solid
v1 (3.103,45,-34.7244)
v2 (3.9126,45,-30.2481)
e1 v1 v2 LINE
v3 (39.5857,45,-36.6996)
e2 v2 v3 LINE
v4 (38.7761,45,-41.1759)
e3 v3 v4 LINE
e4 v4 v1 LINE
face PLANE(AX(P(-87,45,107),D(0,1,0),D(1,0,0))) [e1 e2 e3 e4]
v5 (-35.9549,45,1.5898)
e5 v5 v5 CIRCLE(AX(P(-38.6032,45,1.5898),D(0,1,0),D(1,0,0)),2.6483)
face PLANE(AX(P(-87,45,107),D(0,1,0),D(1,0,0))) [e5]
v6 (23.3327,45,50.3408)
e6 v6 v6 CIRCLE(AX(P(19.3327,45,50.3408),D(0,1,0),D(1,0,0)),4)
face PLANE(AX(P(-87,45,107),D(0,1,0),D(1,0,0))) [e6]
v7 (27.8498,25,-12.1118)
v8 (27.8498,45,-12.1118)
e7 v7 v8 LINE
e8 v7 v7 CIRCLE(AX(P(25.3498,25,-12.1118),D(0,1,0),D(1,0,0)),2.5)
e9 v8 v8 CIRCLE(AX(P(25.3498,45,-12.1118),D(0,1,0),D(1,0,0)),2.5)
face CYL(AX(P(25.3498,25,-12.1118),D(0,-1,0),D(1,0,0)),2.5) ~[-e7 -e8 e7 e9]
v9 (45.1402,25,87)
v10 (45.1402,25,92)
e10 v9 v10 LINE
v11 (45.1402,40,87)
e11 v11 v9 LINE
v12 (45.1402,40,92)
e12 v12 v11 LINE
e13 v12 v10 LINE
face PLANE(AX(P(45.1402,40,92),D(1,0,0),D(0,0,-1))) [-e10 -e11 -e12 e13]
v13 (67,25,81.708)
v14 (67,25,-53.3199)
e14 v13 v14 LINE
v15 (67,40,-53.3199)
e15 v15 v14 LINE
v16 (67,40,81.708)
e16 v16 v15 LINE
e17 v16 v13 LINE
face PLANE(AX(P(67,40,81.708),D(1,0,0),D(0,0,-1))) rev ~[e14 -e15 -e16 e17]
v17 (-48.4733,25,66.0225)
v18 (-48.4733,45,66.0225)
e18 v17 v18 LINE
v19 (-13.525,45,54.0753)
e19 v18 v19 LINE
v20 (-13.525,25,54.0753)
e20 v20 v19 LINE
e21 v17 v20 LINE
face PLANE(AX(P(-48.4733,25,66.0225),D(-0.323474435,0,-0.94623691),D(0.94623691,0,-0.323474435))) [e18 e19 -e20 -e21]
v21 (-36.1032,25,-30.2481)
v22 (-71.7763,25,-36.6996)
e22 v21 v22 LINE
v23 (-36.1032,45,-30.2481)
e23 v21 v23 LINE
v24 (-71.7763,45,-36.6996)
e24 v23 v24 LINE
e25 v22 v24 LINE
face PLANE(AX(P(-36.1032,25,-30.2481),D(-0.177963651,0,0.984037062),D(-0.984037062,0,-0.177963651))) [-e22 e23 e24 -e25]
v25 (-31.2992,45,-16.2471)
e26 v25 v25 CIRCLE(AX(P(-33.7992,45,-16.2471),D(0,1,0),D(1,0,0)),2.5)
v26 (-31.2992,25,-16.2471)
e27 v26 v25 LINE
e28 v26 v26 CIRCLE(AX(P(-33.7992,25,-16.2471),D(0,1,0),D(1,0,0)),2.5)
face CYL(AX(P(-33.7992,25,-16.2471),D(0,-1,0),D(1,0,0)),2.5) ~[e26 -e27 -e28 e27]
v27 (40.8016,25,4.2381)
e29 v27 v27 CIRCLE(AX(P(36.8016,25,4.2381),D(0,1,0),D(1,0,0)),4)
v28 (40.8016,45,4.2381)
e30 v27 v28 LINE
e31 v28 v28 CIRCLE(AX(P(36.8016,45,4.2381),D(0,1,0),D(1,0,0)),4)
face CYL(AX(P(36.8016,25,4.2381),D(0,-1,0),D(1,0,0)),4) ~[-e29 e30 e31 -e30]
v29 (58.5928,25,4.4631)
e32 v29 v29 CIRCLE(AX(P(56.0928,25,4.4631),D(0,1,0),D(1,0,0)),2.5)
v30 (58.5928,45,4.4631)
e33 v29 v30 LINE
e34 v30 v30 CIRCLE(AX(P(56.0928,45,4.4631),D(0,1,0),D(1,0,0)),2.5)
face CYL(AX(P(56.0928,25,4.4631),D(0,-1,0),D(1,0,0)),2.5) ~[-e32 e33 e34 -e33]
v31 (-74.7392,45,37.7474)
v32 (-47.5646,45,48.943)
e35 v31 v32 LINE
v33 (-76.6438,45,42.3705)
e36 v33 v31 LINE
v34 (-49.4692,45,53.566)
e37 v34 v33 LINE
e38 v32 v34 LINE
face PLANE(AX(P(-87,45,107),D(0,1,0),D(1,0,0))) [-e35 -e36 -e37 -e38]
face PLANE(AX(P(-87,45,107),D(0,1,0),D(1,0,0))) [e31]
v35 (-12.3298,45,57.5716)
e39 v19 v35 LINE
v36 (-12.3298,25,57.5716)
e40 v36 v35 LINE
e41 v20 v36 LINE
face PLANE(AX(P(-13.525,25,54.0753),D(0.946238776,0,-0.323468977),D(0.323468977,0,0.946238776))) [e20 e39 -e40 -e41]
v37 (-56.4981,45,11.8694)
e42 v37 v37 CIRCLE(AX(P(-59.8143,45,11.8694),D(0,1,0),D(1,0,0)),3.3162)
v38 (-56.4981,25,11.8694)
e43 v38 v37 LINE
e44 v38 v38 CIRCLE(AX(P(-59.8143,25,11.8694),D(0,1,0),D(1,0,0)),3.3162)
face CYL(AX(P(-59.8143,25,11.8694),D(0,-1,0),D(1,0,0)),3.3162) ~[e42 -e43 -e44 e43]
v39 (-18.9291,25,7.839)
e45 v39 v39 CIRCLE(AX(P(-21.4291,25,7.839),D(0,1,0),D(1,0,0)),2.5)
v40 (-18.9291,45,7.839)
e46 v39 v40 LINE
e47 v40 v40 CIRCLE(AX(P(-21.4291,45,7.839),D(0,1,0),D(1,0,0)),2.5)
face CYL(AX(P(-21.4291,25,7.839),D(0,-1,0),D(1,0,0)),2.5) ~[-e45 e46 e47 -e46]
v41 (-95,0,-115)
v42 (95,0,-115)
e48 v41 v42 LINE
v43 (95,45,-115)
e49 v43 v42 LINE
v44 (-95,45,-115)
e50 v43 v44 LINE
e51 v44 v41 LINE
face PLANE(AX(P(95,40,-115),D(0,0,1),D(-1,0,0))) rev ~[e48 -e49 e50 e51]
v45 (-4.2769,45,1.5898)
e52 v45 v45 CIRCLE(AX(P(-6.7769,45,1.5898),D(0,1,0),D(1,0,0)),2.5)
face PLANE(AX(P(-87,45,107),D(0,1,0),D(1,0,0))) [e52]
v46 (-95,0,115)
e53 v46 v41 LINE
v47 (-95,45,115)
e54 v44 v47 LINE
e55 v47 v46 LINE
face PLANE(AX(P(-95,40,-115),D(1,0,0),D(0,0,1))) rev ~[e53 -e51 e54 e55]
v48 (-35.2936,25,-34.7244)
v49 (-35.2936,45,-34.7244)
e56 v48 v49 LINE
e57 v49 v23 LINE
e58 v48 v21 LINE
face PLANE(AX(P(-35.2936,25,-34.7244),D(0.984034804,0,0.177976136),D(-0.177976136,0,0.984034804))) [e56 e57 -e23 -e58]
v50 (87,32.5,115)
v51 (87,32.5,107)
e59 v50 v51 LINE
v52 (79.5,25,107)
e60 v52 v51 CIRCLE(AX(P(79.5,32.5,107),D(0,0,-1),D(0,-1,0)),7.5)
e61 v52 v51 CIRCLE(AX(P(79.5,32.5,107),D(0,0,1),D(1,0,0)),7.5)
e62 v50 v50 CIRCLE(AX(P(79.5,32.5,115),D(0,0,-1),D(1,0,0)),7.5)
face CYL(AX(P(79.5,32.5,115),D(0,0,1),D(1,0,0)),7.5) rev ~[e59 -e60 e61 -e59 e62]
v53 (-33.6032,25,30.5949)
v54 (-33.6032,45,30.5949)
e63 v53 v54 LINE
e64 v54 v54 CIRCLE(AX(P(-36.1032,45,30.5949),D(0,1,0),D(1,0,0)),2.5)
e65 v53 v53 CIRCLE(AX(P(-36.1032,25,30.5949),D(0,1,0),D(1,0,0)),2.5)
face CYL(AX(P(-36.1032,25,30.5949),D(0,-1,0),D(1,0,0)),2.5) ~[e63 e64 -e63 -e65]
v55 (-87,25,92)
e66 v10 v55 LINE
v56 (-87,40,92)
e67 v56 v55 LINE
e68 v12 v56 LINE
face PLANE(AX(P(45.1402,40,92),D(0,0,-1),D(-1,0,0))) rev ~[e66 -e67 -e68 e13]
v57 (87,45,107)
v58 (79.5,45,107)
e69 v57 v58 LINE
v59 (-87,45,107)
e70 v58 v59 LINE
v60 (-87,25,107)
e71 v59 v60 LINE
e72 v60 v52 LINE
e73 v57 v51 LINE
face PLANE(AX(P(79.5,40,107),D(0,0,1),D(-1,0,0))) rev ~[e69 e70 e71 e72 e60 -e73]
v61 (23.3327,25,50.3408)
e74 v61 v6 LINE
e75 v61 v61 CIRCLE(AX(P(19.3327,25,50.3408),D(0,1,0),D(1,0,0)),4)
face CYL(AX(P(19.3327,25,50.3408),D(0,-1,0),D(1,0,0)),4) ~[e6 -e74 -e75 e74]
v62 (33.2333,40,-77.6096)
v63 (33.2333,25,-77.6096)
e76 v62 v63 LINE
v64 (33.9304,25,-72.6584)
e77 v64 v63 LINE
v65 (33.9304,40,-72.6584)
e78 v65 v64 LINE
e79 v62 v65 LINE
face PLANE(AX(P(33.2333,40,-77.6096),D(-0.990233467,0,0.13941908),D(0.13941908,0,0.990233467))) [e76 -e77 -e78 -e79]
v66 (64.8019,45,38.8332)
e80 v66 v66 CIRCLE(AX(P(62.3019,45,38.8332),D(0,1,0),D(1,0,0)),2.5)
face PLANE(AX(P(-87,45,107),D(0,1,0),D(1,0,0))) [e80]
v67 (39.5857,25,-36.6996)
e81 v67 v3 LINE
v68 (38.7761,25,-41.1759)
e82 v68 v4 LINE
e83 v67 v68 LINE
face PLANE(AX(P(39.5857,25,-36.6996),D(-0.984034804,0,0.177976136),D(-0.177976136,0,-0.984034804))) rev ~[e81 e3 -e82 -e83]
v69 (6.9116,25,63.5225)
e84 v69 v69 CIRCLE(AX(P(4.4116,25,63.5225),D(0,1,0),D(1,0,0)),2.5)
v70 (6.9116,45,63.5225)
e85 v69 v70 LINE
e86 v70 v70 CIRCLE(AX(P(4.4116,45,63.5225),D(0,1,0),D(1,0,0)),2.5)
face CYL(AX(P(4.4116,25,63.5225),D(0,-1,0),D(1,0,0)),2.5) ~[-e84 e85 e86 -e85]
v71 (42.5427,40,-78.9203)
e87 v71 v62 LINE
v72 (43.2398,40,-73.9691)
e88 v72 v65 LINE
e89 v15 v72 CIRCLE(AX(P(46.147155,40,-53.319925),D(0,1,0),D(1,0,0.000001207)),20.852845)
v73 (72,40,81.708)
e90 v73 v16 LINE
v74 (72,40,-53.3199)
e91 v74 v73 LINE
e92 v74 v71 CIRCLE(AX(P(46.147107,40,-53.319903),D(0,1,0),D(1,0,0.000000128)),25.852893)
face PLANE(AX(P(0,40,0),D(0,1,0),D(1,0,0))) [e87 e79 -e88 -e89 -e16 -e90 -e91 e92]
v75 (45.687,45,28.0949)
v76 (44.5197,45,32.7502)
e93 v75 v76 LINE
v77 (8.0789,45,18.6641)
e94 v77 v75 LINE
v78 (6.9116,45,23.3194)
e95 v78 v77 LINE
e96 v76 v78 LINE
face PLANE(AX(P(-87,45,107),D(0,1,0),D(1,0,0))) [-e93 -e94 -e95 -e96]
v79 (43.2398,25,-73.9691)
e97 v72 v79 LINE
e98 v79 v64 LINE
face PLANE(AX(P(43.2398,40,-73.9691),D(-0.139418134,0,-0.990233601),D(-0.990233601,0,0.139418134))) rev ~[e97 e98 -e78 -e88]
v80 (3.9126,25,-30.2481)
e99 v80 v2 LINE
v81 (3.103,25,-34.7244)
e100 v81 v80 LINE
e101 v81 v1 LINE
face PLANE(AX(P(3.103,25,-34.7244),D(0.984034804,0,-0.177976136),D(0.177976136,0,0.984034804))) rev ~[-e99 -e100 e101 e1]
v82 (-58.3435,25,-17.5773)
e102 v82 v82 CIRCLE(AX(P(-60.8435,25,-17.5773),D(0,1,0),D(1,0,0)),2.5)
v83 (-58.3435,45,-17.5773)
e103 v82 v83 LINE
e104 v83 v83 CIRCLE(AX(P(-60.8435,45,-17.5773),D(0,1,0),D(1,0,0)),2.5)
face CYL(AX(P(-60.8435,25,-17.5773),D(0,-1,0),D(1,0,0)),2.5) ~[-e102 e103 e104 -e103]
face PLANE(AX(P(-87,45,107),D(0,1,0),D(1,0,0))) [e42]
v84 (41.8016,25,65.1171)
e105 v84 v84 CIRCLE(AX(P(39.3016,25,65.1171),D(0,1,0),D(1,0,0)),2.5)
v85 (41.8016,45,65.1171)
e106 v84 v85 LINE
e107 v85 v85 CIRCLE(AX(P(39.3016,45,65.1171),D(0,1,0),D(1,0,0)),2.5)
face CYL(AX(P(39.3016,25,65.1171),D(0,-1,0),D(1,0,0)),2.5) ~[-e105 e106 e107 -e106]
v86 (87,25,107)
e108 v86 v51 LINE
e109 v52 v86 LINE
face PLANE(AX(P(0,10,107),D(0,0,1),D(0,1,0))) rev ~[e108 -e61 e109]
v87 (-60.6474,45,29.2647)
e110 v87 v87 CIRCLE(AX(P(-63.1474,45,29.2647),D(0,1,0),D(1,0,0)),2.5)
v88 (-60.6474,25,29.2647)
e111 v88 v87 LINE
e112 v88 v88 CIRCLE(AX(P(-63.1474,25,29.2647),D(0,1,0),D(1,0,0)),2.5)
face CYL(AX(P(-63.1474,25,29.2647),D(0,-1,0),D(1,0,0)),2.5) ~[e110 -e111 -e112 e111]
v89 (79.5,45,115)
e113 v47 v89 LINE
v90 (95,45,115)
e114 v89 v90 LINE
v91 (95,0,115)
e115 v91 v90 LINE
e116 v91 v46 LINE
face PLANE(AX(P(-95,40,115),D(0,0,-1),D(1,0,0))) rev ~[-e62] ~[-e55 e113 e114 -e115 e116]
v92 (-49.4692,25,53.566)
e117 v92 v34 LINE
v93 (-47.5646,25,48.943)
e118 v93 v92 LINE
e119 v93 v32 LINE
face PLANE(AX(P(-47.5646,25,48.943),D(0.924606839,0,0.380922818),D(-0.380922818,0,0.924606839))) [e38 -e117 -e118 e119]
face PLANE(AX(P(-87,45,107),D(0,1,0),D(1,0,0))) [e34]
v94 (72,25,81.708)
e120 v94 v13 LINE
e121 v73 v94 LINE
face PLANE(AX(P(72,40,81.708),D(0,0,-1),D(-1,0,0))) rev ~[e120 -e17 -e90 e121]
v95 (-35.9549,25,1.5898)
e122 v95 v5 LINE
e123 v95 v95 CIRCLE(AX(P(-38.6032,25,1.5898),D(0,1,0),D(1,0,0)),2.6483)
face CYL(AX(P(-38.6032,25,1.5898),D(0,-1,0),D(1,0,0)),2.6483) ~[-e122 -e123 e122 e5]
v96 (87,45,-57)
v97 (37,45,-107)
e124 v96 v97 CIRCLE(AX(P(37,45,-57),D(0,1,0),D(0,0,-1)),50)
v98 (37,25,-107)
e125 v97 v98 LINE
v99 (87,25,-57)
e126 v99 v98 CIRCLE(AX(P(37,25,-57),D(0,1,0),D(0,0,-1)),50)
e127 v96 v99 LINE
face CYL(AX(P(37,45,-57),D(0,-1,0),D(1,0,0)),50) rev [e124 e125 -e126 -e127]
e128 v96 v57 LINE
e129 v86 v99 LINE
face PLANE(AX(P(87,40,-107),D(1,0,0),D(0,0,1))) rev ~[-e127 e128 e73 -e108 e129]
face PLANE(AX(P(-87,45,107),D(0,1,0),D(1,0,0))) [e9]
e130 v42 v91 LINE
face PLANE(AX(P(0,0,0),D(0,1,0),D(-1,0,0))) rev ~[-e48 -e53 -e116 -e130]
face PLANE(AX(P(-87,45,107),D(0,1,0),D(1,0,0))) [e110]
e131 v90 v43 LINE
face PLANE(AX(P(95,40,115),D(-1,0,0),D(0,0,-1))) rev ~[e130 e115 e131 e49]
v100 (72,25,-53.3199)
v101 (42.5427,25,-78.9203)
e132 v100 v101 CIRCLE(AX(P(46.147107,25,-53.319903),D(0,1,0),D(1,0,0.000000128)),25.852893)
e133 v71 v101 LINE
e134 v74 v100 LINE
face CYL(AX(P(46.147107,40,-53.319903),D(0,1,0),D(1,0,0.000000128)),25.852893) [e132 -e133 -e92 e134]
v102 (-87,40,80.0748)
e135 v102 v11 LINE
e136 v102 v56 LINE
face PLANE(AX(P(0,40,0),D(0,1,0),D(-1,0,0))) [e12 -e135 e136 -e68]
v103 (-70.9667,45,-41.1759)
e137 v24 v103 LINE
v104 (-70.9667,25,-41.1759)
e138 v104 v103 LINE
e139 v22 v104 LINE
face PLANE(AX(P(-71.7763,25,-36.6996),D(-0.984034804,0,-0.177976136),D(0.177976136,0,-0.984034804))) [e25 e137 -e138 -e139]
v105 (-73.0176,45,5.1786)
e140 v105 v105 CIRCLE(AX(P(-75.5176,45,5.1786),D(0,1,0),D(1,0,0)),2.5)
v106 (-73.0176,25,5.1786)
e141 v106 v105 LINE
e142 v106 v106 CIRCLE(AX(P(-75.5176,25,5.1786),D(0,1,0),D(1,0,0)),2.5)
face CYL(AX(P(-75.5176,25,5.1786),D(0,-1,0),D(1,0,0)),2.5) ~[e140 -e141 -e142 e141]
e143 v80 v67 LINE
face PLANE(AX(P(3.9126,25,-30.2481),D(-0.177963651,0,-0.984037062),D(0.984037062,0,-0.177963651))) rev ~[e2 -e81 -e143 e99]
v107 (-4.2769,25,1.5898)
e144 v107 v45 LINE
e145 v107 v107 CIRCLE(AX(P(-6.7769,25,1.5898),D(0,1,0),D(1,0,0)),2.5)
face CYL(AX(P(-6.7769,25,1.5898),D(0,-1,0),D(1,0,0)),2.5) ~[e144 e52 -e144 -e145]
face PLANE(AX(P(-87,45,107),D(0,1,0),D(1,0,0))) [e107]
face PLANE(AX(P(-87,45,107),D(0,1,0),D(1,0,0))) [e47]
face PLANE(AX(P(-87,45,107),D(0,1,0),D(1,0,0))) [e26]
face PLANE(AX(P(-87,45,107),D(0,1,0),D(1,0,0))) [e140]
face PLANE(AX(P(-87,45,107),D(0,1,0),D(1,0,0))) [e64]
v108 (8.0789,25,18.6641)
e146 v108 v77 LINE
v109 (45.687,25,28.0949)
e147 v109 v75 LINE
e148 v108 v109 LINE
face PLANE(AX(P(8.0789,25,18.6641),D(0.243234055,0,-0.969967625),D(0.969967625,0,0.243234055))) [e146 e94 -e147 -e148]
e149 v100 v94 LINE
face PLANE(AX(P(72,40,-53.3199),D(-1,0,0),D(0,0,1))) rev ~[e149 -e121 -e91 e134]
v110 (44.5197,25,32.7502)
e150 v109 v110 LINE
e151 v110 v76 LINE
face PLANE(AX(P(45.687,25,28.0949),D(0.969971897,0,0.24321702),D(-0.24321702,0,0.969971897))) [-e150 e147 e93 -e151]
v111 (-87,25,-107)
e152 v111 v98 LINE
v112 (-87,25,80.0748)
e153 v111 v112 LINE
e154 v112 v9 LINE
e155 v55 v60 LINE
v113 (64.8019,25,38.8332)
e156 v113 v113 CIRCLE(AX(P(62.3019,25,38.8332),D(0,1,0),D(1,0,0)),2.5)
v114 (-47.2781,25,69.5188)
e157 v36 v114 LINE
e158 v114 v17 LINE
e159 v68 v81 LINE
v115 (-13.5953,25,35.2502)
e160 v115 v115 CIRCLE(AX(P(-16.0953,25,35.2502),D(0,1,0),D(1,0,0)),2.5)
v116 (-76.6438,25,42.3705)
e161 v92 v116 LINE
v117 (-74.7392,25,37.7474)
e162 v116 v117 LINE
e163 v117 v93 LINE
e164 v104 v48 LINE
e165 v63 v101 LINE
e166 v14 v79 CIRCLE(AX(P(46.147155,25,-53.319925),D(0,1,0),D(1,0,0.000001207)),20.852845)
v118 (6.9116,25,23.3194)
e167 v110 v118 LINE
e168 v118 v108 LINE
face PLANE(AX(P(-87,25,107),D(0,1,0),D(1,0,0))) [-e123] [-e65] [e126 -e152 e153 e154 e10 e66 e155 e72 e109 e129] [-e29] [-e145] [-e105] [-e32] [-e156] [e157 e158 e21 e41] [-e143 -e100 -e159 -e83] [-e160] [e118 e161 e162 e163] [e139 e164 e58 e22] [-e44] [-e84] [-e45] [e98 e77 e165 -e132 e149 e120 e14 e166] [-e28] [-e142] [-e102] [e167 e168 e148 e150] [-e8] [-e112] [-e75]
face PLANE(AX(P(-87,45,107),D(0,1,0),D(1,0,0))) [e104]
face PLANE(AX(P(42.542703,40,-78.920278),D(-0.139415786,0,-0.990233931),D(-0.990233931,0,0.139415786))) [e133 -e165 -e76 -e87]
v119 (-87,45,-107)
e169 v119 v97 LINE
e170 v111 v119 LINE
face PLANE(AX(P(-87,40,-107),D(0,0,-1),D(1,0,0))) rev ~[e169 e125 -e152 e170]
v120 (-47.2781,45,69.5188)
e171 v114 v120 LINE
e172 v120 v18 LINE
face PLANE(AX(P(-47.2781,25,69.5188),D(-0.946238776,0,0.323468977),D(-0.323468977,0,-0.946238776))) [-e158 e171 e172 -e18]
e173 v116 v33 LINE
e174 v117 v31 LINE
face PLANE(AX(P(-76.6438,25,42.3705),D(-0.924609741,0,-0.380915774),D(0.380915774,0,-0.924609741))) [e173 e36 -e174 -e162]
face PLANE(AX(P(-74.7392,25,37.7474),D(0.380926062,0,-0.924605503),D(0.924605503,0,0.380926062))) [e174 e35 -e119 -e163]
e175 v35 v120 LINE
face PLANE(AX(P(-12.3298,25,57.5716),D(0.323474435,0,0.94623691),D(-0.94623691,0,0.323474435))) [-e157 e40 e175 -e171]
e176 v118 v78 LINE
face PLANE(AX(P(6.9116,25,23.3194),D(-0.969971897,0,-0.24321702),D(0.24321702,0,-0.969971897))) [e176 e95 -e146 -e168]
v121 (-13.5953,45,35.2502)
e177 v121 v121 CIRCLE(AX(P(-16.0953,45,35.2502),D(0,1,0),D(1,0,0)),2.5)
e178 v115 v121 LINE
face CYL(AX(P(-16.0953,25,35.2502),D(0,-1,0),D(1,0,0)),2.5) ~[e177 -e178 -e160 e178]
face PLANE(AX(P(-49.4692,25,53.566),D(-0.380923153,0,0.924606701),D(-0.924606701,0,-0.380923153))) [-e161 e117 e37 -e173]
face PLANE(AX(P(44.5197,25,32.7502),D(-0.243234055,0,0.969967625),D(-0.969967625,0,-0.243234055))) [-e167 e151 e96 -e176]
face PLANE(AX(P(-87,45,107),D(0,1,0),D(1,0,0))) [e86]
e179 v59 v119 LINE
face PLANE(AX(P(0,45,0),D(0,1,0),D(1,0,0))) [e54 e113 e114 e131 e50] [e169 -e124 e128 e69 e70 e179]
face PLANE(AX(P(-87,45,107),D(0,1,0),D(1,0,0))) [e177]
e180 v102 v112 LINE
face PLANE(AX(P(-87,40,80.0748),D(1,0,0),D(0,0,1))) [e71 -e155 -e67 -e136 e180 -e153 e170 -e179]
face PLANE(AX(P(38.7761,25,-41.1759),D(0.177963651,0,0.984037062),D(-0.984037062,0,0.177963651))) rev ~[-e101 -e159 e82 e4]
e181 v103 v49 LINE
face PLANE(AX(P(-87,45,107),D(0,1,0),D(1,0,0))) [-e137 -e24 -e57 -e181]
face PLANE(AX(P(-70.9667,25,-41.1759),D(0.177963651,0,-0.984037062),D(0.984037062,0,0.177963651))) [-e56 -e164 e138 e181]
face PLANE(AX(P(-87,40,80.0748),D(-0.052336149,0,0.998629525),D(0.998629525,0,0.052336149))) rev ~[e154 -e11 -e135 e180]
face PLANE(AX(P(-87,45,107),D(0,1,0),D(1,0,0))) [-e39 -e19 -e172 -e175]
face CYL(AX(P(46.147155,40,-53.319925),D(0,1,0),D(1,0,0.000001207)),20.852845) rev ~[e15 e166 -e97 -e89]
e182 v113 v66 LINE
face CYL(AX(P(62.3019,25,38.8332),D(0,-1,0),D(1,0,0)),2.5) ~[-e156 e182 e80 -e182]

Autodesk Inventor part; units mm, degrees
ref_plane "YZ Plane" through (0, 0, 0) normal (1, 0, 0) x (0, 1, 0)
ref_plane "XZ Plane" through (0, 0, 0) normal (0, 1, 0) x (-1, 0, 0)
ref_plane "XY Plane" through (0, 0, 0) normal (0, 0, 1) x (1, 0, 0)
sketch "草圖1" plane through (0, 0, 0) normal (0, 1, 0) x (-1, 0, 0)
  line L0 (133, 0) -> (-133, 0) construction
  line L1 (0, -161) -> (0, 161) construction
  line L2 (95, -115) -> (-95, -115)
  line L3 (-95, -115) -> (-95, 115)
  line L4 (-95, 115) -> (95, 115)
  line L5 (95, 115) -> (95, -115)
  point P0 (0, 0)
  dimension "d0" = 190
  dimension "d1" = 230
extrude "擠出1" add sketch "草圖1" along normal blind 40
sketch "草圖3" plane through (0, 0, 0) normal (1, 0, 0) x (0, 1, 0)
  line L0 (0, 115) -> (0, -115) construction
  line L1 (0, 115) -> (40, 115) construction
  line L2 (40, -115) -> (40, 115) construction
  line L3 (0, -115) -> (40, -115) construction
  line L4 (-8, 0) -> (48, 0) construction
  line L5 (0, -161) -> (0, 161) construction
  line L6 (10, 107) -> (40, 107)
  line L7 (40, 107) -> (40, -107)
  line L8 (40, -107) -> (10, -107)
  line L9 (10, 107) -> (10, -107.0049)
  point P0 (0, 0)
  dimension "d13" = 8
  dimension "d14" = 8
  dimension "d27" = 10
sketch "草圖2" plane through (0, 40, 0) normal (0, 1, 0) x (1, 0, 0)
  line L0 (95, 115) -> (-95, 115) construction
  line L1 (-95, 115) -> (-95, -115) construction
  line L2 (-95, -115) -> (95, -115) construction
  line L3 (95, -115) -> (95, 115) construction
  line L4 (-133, 0) -> (133, 0) construction
  line L5 (0, 161) -> (0, -161) construction
  line L6 (-87, 107) -> (87, 107)
  line L7 (87, 107) -> (87, -107)
  line L8 (87, -107) -> (-87, -107)
  line L9 (-87, -107) -> (-87, 107)
  line L10 (-87, -80.0748) -> (45.1402, -87)
  line L11 (45.1402, -92) -> (-87, -92)
  line L12 (45.1402, -92) -> (45.1402, -87)
  line L13 (72, 53.3199) -> (72, -81.708)
  line L14 (72, -81.708) -> (67, -81.708)
  line L15 (67, -81.708) -> (67, 53.3199)
  arc A0 (67, 53.3199) -> (43.2398, 73.9691) centre (46.1471, 53.3199) ccw
  arc A1 (72, 53.3199) -> (42.5427, 78.9203) centre (46.1471, 53.3199) ccw
  line L16 (43.2398, 73.9691) -> (33.9304, 72.6584)
  line L17 (45.4216, 79.3256) -> (33.2333, 77.6096)
  line L18 (33.2333, 77.6096) -> (33.9304, 72.6584)
  point P0 (0, 0)
  dimension "d4" = 8
  dimension "d5" = 15
  dimension "d6" = 5
  dimension "d7" = 3
  dimension "d8" = 15
  dimension "d9" = 5
  dimension "d10" = 5
extrude "擠出7" cut sketch "草圖3" along normal mid plane 174
extrude "擠出8" add sketch "草圖2" against normal up to next contours L10 L12 L11 L9 | L13 L14 L15 A0 L16 L18 L17 A1
sketch "草圖6" plane through (-87, 10, 107) normal (0, 1, 0) x (1, 0, 0)
  line L0 (132.1402, 15) -> (0, 15) projected
  line L1 (0, 15) -> (0, 0) projected
  line L2 (0, 0) -> (174, 0) projected
  line L3 (174, 0) -> (174, 214) projected
  line L4 (0, 214) -> (174, 214) projected
  line L5 (0, 214) -> (0, 26.9252) projected
  line L6 (0, 26.9252) -> (132.1402, 20) projected
  line L7 (132.1402, 20) -> (132.1402, 15) projected
  arc A0 (159, 160.3199) -> (129.5427, 185.9203) centre (133.1471, 160.3199) ccw projected
  line L8 (159, 160.3199) -> (159, 25.292) projected
  line L9 (159, 25.292) -> (154, 25.292) projected
  line L10 (154, 25.292) -> (154, 160.3199) projected
  arc A1 (154, 160.3199) -> (130.2398, 180.9691) centre (133.1471, 160.3199) ccw projected
  line L11 (130.2398, 180.9691) -> (120.9304, 179.6584) projected
  line L12 (120.9304, 179.6584) -> (120.2333, 184.6096) projected
  line L13 (120.2333, 184.6096) -> (129.5427, 185.9203) projected
  point P0 (87, 107)
extrude "擠出9" add sketch "草圖6" along normal blind 15
sketch "草圖9" plane through (-95, 0, 115) normal (0, 0, 1) x (1, 0, 0)
  line L0 (182, 25) -> (8, 25) construction
  line L1 (182, 40) -> (182, 25) construction
  line L2 (167, 40) -> (167, 25) construction
  circle A0 centre (174.5, 32.5) radius 7.5
  point P0 (95, 0)
  dimension "d64" = 15
extrude "擠出11" cut sketch "草圖9" against normal blind 20
sketch "草圖10" plane through (0, 40, 0) normal (0, 1, 0) x (1, 0, 0)
  line L0 (-87, -92) -> (45.1402, -92) construction
  line L1 (45.1402, -92) -> (45.1402, -87) construction
  line L2 (45.1402, -87) -> (-87, -80.0748) construction
  line L3 (-87, -80.0748) -> (-87, 107) projected
  line L4 (-87, 107) -> (87, 107) projected
  line L5 (87, 107) -> (87, -107) projected
  line L6 (87, -107) -> (79.5, -107) projected
  line L7 (79.5, -115) -> (79.5, -107) projected
  line L8 (79.5, -115) -> (95, -115) projected
  line L9 (95, -115) -> (95, 115) projected
  line L10 (95, 115) -> (-95, 115) projected
  line L11 (-95, 115) -> (-95, -115) projected
  line L12 (-95, -115) -> (79.5, -115) projected
  line L13 (79.5, -107) -> (-87, -107) projected
  line L14 (-87, -107) -> (-87, -92) projected
  line L15 (-87, -80.0748) -> (-87, -92)
  point P0 (0, 0)
extrude "擠出12" add sketch "草圖10" along normal blind 5
fillet "圓角1" radius 50 1 edges at (87, 35, -107)
sketch "草圖11" plane through (-87, 25, 107) normal (0, 1, 0) x (1, 0, 0)
  line L0 (16.0333, 148.1759) -> (51.7064, 141.7244)
  line L1 (51.7064, 141.7244) -> (50.8968, 137.2481)
  line L2 (50.8968, 137.2481) -> (15.2237, 143.6996)
  line L3 (15.2237, 143.6996) -> (16.0333, 148.1759)
  line L4 (182, 222) -> (-8, 222) projected
  line L5 (70.9047, 222) -> (70.9047, 192.887) construction
  line L6 (125.7761, 148.1759) -> (90.103, 141.7244)
  line L7 (90.103, 141.7244) -> (90.9126, 137.2481)
  line L8 (90.9126, 137.2481) -> (126.5857, 143.6996)
  line L9 (126.5857, 143.6996) -> (125.7761, 148.1759)
  circle A0 centre (26.1565, 124.5773) radius 2.5
  circle A1 centre (11.4824, 101.8214) radius 2.5
  circle A2 centre (23.8526, 77.7353) radius 2.5
  circle A3 centre (50.8968, 76.4051) radius 2.5
  circle A4 centre (65.5709, 99.161) radius 2.5
  circle A5 centre (53.2008, 123.2471) radius 2.5
  circle A6 centre (126.3016, 41.8829) radius 2.5
  circle A7 centre (149.3019, 68.1668) radius 2.5
  circle A8 centre (143.0928, 102.5369) radius 2.5
  circle A9 centre (112.3498, 119.1118) radius 2.5
  circle A10 centre (80.2231, 105.4102) radius 2.5
  circle A11 centre (70.9047, 71.7498) radius 2.5
  circle A12 centre (91.4116, 43.4775) radius 2.5
  line L10 (95.0789, 88.3359) -> (132.687, 78.9051)
  line L11 (132.687, 78.9051) -> (131.5197, 74.2498)
  line L12 (131.5197, 74.2498) -> (93.9116, 83.6806)
  line L13 (93.9116, 83.6806) -> (95.0789, 88.3359)
  line L14 (38.5267, 40.9775) -> (73.475, 52.9247)
  line L15 (73.475, 52.9247) -> (74.6702, 49.4284)
  line L16 (74.6702, 49.4284) -> (39.7219, 37.4812)
  line L17 (39.7219, 37.4812) -> (38.5267, 40.9775)
  line L18 (12.2608, 69.2526) -> (39.4354, 58.057)
  line L19 (39.4354, 58.057) -> (37.5308, 53.434)
  line L20 (37.5308, 53.434) -> (10.3562, 64.6295)
  line L21 (10.3562, 64.6295) -> (12.2608, 69.2526)
  circle A13 centre (106.3327, 56.6592) radius 4
  circle A14 centre (123.8016, 102.7619) radius 4
  circle A15 centre (27.1857, 95.1306) radius 3.3162
  circle A16 centre (48.3968, 105.4102) radius 2.6483
  point P0 (38.5267, 100.4912)
  point P1 (110.5122, 78.9051)
  dimension "d70" = 5
  dimension "d73" = 360
  dimension "d75" = 5
  dimension "d78" = 360
  dimension "d80" = 5
  dimension "d81" = 8
  dimension "d82" = 8
extrude "擠出13" add sketch "草圖11" along normal up to surface (20 mm away)
properties part number "ball"
